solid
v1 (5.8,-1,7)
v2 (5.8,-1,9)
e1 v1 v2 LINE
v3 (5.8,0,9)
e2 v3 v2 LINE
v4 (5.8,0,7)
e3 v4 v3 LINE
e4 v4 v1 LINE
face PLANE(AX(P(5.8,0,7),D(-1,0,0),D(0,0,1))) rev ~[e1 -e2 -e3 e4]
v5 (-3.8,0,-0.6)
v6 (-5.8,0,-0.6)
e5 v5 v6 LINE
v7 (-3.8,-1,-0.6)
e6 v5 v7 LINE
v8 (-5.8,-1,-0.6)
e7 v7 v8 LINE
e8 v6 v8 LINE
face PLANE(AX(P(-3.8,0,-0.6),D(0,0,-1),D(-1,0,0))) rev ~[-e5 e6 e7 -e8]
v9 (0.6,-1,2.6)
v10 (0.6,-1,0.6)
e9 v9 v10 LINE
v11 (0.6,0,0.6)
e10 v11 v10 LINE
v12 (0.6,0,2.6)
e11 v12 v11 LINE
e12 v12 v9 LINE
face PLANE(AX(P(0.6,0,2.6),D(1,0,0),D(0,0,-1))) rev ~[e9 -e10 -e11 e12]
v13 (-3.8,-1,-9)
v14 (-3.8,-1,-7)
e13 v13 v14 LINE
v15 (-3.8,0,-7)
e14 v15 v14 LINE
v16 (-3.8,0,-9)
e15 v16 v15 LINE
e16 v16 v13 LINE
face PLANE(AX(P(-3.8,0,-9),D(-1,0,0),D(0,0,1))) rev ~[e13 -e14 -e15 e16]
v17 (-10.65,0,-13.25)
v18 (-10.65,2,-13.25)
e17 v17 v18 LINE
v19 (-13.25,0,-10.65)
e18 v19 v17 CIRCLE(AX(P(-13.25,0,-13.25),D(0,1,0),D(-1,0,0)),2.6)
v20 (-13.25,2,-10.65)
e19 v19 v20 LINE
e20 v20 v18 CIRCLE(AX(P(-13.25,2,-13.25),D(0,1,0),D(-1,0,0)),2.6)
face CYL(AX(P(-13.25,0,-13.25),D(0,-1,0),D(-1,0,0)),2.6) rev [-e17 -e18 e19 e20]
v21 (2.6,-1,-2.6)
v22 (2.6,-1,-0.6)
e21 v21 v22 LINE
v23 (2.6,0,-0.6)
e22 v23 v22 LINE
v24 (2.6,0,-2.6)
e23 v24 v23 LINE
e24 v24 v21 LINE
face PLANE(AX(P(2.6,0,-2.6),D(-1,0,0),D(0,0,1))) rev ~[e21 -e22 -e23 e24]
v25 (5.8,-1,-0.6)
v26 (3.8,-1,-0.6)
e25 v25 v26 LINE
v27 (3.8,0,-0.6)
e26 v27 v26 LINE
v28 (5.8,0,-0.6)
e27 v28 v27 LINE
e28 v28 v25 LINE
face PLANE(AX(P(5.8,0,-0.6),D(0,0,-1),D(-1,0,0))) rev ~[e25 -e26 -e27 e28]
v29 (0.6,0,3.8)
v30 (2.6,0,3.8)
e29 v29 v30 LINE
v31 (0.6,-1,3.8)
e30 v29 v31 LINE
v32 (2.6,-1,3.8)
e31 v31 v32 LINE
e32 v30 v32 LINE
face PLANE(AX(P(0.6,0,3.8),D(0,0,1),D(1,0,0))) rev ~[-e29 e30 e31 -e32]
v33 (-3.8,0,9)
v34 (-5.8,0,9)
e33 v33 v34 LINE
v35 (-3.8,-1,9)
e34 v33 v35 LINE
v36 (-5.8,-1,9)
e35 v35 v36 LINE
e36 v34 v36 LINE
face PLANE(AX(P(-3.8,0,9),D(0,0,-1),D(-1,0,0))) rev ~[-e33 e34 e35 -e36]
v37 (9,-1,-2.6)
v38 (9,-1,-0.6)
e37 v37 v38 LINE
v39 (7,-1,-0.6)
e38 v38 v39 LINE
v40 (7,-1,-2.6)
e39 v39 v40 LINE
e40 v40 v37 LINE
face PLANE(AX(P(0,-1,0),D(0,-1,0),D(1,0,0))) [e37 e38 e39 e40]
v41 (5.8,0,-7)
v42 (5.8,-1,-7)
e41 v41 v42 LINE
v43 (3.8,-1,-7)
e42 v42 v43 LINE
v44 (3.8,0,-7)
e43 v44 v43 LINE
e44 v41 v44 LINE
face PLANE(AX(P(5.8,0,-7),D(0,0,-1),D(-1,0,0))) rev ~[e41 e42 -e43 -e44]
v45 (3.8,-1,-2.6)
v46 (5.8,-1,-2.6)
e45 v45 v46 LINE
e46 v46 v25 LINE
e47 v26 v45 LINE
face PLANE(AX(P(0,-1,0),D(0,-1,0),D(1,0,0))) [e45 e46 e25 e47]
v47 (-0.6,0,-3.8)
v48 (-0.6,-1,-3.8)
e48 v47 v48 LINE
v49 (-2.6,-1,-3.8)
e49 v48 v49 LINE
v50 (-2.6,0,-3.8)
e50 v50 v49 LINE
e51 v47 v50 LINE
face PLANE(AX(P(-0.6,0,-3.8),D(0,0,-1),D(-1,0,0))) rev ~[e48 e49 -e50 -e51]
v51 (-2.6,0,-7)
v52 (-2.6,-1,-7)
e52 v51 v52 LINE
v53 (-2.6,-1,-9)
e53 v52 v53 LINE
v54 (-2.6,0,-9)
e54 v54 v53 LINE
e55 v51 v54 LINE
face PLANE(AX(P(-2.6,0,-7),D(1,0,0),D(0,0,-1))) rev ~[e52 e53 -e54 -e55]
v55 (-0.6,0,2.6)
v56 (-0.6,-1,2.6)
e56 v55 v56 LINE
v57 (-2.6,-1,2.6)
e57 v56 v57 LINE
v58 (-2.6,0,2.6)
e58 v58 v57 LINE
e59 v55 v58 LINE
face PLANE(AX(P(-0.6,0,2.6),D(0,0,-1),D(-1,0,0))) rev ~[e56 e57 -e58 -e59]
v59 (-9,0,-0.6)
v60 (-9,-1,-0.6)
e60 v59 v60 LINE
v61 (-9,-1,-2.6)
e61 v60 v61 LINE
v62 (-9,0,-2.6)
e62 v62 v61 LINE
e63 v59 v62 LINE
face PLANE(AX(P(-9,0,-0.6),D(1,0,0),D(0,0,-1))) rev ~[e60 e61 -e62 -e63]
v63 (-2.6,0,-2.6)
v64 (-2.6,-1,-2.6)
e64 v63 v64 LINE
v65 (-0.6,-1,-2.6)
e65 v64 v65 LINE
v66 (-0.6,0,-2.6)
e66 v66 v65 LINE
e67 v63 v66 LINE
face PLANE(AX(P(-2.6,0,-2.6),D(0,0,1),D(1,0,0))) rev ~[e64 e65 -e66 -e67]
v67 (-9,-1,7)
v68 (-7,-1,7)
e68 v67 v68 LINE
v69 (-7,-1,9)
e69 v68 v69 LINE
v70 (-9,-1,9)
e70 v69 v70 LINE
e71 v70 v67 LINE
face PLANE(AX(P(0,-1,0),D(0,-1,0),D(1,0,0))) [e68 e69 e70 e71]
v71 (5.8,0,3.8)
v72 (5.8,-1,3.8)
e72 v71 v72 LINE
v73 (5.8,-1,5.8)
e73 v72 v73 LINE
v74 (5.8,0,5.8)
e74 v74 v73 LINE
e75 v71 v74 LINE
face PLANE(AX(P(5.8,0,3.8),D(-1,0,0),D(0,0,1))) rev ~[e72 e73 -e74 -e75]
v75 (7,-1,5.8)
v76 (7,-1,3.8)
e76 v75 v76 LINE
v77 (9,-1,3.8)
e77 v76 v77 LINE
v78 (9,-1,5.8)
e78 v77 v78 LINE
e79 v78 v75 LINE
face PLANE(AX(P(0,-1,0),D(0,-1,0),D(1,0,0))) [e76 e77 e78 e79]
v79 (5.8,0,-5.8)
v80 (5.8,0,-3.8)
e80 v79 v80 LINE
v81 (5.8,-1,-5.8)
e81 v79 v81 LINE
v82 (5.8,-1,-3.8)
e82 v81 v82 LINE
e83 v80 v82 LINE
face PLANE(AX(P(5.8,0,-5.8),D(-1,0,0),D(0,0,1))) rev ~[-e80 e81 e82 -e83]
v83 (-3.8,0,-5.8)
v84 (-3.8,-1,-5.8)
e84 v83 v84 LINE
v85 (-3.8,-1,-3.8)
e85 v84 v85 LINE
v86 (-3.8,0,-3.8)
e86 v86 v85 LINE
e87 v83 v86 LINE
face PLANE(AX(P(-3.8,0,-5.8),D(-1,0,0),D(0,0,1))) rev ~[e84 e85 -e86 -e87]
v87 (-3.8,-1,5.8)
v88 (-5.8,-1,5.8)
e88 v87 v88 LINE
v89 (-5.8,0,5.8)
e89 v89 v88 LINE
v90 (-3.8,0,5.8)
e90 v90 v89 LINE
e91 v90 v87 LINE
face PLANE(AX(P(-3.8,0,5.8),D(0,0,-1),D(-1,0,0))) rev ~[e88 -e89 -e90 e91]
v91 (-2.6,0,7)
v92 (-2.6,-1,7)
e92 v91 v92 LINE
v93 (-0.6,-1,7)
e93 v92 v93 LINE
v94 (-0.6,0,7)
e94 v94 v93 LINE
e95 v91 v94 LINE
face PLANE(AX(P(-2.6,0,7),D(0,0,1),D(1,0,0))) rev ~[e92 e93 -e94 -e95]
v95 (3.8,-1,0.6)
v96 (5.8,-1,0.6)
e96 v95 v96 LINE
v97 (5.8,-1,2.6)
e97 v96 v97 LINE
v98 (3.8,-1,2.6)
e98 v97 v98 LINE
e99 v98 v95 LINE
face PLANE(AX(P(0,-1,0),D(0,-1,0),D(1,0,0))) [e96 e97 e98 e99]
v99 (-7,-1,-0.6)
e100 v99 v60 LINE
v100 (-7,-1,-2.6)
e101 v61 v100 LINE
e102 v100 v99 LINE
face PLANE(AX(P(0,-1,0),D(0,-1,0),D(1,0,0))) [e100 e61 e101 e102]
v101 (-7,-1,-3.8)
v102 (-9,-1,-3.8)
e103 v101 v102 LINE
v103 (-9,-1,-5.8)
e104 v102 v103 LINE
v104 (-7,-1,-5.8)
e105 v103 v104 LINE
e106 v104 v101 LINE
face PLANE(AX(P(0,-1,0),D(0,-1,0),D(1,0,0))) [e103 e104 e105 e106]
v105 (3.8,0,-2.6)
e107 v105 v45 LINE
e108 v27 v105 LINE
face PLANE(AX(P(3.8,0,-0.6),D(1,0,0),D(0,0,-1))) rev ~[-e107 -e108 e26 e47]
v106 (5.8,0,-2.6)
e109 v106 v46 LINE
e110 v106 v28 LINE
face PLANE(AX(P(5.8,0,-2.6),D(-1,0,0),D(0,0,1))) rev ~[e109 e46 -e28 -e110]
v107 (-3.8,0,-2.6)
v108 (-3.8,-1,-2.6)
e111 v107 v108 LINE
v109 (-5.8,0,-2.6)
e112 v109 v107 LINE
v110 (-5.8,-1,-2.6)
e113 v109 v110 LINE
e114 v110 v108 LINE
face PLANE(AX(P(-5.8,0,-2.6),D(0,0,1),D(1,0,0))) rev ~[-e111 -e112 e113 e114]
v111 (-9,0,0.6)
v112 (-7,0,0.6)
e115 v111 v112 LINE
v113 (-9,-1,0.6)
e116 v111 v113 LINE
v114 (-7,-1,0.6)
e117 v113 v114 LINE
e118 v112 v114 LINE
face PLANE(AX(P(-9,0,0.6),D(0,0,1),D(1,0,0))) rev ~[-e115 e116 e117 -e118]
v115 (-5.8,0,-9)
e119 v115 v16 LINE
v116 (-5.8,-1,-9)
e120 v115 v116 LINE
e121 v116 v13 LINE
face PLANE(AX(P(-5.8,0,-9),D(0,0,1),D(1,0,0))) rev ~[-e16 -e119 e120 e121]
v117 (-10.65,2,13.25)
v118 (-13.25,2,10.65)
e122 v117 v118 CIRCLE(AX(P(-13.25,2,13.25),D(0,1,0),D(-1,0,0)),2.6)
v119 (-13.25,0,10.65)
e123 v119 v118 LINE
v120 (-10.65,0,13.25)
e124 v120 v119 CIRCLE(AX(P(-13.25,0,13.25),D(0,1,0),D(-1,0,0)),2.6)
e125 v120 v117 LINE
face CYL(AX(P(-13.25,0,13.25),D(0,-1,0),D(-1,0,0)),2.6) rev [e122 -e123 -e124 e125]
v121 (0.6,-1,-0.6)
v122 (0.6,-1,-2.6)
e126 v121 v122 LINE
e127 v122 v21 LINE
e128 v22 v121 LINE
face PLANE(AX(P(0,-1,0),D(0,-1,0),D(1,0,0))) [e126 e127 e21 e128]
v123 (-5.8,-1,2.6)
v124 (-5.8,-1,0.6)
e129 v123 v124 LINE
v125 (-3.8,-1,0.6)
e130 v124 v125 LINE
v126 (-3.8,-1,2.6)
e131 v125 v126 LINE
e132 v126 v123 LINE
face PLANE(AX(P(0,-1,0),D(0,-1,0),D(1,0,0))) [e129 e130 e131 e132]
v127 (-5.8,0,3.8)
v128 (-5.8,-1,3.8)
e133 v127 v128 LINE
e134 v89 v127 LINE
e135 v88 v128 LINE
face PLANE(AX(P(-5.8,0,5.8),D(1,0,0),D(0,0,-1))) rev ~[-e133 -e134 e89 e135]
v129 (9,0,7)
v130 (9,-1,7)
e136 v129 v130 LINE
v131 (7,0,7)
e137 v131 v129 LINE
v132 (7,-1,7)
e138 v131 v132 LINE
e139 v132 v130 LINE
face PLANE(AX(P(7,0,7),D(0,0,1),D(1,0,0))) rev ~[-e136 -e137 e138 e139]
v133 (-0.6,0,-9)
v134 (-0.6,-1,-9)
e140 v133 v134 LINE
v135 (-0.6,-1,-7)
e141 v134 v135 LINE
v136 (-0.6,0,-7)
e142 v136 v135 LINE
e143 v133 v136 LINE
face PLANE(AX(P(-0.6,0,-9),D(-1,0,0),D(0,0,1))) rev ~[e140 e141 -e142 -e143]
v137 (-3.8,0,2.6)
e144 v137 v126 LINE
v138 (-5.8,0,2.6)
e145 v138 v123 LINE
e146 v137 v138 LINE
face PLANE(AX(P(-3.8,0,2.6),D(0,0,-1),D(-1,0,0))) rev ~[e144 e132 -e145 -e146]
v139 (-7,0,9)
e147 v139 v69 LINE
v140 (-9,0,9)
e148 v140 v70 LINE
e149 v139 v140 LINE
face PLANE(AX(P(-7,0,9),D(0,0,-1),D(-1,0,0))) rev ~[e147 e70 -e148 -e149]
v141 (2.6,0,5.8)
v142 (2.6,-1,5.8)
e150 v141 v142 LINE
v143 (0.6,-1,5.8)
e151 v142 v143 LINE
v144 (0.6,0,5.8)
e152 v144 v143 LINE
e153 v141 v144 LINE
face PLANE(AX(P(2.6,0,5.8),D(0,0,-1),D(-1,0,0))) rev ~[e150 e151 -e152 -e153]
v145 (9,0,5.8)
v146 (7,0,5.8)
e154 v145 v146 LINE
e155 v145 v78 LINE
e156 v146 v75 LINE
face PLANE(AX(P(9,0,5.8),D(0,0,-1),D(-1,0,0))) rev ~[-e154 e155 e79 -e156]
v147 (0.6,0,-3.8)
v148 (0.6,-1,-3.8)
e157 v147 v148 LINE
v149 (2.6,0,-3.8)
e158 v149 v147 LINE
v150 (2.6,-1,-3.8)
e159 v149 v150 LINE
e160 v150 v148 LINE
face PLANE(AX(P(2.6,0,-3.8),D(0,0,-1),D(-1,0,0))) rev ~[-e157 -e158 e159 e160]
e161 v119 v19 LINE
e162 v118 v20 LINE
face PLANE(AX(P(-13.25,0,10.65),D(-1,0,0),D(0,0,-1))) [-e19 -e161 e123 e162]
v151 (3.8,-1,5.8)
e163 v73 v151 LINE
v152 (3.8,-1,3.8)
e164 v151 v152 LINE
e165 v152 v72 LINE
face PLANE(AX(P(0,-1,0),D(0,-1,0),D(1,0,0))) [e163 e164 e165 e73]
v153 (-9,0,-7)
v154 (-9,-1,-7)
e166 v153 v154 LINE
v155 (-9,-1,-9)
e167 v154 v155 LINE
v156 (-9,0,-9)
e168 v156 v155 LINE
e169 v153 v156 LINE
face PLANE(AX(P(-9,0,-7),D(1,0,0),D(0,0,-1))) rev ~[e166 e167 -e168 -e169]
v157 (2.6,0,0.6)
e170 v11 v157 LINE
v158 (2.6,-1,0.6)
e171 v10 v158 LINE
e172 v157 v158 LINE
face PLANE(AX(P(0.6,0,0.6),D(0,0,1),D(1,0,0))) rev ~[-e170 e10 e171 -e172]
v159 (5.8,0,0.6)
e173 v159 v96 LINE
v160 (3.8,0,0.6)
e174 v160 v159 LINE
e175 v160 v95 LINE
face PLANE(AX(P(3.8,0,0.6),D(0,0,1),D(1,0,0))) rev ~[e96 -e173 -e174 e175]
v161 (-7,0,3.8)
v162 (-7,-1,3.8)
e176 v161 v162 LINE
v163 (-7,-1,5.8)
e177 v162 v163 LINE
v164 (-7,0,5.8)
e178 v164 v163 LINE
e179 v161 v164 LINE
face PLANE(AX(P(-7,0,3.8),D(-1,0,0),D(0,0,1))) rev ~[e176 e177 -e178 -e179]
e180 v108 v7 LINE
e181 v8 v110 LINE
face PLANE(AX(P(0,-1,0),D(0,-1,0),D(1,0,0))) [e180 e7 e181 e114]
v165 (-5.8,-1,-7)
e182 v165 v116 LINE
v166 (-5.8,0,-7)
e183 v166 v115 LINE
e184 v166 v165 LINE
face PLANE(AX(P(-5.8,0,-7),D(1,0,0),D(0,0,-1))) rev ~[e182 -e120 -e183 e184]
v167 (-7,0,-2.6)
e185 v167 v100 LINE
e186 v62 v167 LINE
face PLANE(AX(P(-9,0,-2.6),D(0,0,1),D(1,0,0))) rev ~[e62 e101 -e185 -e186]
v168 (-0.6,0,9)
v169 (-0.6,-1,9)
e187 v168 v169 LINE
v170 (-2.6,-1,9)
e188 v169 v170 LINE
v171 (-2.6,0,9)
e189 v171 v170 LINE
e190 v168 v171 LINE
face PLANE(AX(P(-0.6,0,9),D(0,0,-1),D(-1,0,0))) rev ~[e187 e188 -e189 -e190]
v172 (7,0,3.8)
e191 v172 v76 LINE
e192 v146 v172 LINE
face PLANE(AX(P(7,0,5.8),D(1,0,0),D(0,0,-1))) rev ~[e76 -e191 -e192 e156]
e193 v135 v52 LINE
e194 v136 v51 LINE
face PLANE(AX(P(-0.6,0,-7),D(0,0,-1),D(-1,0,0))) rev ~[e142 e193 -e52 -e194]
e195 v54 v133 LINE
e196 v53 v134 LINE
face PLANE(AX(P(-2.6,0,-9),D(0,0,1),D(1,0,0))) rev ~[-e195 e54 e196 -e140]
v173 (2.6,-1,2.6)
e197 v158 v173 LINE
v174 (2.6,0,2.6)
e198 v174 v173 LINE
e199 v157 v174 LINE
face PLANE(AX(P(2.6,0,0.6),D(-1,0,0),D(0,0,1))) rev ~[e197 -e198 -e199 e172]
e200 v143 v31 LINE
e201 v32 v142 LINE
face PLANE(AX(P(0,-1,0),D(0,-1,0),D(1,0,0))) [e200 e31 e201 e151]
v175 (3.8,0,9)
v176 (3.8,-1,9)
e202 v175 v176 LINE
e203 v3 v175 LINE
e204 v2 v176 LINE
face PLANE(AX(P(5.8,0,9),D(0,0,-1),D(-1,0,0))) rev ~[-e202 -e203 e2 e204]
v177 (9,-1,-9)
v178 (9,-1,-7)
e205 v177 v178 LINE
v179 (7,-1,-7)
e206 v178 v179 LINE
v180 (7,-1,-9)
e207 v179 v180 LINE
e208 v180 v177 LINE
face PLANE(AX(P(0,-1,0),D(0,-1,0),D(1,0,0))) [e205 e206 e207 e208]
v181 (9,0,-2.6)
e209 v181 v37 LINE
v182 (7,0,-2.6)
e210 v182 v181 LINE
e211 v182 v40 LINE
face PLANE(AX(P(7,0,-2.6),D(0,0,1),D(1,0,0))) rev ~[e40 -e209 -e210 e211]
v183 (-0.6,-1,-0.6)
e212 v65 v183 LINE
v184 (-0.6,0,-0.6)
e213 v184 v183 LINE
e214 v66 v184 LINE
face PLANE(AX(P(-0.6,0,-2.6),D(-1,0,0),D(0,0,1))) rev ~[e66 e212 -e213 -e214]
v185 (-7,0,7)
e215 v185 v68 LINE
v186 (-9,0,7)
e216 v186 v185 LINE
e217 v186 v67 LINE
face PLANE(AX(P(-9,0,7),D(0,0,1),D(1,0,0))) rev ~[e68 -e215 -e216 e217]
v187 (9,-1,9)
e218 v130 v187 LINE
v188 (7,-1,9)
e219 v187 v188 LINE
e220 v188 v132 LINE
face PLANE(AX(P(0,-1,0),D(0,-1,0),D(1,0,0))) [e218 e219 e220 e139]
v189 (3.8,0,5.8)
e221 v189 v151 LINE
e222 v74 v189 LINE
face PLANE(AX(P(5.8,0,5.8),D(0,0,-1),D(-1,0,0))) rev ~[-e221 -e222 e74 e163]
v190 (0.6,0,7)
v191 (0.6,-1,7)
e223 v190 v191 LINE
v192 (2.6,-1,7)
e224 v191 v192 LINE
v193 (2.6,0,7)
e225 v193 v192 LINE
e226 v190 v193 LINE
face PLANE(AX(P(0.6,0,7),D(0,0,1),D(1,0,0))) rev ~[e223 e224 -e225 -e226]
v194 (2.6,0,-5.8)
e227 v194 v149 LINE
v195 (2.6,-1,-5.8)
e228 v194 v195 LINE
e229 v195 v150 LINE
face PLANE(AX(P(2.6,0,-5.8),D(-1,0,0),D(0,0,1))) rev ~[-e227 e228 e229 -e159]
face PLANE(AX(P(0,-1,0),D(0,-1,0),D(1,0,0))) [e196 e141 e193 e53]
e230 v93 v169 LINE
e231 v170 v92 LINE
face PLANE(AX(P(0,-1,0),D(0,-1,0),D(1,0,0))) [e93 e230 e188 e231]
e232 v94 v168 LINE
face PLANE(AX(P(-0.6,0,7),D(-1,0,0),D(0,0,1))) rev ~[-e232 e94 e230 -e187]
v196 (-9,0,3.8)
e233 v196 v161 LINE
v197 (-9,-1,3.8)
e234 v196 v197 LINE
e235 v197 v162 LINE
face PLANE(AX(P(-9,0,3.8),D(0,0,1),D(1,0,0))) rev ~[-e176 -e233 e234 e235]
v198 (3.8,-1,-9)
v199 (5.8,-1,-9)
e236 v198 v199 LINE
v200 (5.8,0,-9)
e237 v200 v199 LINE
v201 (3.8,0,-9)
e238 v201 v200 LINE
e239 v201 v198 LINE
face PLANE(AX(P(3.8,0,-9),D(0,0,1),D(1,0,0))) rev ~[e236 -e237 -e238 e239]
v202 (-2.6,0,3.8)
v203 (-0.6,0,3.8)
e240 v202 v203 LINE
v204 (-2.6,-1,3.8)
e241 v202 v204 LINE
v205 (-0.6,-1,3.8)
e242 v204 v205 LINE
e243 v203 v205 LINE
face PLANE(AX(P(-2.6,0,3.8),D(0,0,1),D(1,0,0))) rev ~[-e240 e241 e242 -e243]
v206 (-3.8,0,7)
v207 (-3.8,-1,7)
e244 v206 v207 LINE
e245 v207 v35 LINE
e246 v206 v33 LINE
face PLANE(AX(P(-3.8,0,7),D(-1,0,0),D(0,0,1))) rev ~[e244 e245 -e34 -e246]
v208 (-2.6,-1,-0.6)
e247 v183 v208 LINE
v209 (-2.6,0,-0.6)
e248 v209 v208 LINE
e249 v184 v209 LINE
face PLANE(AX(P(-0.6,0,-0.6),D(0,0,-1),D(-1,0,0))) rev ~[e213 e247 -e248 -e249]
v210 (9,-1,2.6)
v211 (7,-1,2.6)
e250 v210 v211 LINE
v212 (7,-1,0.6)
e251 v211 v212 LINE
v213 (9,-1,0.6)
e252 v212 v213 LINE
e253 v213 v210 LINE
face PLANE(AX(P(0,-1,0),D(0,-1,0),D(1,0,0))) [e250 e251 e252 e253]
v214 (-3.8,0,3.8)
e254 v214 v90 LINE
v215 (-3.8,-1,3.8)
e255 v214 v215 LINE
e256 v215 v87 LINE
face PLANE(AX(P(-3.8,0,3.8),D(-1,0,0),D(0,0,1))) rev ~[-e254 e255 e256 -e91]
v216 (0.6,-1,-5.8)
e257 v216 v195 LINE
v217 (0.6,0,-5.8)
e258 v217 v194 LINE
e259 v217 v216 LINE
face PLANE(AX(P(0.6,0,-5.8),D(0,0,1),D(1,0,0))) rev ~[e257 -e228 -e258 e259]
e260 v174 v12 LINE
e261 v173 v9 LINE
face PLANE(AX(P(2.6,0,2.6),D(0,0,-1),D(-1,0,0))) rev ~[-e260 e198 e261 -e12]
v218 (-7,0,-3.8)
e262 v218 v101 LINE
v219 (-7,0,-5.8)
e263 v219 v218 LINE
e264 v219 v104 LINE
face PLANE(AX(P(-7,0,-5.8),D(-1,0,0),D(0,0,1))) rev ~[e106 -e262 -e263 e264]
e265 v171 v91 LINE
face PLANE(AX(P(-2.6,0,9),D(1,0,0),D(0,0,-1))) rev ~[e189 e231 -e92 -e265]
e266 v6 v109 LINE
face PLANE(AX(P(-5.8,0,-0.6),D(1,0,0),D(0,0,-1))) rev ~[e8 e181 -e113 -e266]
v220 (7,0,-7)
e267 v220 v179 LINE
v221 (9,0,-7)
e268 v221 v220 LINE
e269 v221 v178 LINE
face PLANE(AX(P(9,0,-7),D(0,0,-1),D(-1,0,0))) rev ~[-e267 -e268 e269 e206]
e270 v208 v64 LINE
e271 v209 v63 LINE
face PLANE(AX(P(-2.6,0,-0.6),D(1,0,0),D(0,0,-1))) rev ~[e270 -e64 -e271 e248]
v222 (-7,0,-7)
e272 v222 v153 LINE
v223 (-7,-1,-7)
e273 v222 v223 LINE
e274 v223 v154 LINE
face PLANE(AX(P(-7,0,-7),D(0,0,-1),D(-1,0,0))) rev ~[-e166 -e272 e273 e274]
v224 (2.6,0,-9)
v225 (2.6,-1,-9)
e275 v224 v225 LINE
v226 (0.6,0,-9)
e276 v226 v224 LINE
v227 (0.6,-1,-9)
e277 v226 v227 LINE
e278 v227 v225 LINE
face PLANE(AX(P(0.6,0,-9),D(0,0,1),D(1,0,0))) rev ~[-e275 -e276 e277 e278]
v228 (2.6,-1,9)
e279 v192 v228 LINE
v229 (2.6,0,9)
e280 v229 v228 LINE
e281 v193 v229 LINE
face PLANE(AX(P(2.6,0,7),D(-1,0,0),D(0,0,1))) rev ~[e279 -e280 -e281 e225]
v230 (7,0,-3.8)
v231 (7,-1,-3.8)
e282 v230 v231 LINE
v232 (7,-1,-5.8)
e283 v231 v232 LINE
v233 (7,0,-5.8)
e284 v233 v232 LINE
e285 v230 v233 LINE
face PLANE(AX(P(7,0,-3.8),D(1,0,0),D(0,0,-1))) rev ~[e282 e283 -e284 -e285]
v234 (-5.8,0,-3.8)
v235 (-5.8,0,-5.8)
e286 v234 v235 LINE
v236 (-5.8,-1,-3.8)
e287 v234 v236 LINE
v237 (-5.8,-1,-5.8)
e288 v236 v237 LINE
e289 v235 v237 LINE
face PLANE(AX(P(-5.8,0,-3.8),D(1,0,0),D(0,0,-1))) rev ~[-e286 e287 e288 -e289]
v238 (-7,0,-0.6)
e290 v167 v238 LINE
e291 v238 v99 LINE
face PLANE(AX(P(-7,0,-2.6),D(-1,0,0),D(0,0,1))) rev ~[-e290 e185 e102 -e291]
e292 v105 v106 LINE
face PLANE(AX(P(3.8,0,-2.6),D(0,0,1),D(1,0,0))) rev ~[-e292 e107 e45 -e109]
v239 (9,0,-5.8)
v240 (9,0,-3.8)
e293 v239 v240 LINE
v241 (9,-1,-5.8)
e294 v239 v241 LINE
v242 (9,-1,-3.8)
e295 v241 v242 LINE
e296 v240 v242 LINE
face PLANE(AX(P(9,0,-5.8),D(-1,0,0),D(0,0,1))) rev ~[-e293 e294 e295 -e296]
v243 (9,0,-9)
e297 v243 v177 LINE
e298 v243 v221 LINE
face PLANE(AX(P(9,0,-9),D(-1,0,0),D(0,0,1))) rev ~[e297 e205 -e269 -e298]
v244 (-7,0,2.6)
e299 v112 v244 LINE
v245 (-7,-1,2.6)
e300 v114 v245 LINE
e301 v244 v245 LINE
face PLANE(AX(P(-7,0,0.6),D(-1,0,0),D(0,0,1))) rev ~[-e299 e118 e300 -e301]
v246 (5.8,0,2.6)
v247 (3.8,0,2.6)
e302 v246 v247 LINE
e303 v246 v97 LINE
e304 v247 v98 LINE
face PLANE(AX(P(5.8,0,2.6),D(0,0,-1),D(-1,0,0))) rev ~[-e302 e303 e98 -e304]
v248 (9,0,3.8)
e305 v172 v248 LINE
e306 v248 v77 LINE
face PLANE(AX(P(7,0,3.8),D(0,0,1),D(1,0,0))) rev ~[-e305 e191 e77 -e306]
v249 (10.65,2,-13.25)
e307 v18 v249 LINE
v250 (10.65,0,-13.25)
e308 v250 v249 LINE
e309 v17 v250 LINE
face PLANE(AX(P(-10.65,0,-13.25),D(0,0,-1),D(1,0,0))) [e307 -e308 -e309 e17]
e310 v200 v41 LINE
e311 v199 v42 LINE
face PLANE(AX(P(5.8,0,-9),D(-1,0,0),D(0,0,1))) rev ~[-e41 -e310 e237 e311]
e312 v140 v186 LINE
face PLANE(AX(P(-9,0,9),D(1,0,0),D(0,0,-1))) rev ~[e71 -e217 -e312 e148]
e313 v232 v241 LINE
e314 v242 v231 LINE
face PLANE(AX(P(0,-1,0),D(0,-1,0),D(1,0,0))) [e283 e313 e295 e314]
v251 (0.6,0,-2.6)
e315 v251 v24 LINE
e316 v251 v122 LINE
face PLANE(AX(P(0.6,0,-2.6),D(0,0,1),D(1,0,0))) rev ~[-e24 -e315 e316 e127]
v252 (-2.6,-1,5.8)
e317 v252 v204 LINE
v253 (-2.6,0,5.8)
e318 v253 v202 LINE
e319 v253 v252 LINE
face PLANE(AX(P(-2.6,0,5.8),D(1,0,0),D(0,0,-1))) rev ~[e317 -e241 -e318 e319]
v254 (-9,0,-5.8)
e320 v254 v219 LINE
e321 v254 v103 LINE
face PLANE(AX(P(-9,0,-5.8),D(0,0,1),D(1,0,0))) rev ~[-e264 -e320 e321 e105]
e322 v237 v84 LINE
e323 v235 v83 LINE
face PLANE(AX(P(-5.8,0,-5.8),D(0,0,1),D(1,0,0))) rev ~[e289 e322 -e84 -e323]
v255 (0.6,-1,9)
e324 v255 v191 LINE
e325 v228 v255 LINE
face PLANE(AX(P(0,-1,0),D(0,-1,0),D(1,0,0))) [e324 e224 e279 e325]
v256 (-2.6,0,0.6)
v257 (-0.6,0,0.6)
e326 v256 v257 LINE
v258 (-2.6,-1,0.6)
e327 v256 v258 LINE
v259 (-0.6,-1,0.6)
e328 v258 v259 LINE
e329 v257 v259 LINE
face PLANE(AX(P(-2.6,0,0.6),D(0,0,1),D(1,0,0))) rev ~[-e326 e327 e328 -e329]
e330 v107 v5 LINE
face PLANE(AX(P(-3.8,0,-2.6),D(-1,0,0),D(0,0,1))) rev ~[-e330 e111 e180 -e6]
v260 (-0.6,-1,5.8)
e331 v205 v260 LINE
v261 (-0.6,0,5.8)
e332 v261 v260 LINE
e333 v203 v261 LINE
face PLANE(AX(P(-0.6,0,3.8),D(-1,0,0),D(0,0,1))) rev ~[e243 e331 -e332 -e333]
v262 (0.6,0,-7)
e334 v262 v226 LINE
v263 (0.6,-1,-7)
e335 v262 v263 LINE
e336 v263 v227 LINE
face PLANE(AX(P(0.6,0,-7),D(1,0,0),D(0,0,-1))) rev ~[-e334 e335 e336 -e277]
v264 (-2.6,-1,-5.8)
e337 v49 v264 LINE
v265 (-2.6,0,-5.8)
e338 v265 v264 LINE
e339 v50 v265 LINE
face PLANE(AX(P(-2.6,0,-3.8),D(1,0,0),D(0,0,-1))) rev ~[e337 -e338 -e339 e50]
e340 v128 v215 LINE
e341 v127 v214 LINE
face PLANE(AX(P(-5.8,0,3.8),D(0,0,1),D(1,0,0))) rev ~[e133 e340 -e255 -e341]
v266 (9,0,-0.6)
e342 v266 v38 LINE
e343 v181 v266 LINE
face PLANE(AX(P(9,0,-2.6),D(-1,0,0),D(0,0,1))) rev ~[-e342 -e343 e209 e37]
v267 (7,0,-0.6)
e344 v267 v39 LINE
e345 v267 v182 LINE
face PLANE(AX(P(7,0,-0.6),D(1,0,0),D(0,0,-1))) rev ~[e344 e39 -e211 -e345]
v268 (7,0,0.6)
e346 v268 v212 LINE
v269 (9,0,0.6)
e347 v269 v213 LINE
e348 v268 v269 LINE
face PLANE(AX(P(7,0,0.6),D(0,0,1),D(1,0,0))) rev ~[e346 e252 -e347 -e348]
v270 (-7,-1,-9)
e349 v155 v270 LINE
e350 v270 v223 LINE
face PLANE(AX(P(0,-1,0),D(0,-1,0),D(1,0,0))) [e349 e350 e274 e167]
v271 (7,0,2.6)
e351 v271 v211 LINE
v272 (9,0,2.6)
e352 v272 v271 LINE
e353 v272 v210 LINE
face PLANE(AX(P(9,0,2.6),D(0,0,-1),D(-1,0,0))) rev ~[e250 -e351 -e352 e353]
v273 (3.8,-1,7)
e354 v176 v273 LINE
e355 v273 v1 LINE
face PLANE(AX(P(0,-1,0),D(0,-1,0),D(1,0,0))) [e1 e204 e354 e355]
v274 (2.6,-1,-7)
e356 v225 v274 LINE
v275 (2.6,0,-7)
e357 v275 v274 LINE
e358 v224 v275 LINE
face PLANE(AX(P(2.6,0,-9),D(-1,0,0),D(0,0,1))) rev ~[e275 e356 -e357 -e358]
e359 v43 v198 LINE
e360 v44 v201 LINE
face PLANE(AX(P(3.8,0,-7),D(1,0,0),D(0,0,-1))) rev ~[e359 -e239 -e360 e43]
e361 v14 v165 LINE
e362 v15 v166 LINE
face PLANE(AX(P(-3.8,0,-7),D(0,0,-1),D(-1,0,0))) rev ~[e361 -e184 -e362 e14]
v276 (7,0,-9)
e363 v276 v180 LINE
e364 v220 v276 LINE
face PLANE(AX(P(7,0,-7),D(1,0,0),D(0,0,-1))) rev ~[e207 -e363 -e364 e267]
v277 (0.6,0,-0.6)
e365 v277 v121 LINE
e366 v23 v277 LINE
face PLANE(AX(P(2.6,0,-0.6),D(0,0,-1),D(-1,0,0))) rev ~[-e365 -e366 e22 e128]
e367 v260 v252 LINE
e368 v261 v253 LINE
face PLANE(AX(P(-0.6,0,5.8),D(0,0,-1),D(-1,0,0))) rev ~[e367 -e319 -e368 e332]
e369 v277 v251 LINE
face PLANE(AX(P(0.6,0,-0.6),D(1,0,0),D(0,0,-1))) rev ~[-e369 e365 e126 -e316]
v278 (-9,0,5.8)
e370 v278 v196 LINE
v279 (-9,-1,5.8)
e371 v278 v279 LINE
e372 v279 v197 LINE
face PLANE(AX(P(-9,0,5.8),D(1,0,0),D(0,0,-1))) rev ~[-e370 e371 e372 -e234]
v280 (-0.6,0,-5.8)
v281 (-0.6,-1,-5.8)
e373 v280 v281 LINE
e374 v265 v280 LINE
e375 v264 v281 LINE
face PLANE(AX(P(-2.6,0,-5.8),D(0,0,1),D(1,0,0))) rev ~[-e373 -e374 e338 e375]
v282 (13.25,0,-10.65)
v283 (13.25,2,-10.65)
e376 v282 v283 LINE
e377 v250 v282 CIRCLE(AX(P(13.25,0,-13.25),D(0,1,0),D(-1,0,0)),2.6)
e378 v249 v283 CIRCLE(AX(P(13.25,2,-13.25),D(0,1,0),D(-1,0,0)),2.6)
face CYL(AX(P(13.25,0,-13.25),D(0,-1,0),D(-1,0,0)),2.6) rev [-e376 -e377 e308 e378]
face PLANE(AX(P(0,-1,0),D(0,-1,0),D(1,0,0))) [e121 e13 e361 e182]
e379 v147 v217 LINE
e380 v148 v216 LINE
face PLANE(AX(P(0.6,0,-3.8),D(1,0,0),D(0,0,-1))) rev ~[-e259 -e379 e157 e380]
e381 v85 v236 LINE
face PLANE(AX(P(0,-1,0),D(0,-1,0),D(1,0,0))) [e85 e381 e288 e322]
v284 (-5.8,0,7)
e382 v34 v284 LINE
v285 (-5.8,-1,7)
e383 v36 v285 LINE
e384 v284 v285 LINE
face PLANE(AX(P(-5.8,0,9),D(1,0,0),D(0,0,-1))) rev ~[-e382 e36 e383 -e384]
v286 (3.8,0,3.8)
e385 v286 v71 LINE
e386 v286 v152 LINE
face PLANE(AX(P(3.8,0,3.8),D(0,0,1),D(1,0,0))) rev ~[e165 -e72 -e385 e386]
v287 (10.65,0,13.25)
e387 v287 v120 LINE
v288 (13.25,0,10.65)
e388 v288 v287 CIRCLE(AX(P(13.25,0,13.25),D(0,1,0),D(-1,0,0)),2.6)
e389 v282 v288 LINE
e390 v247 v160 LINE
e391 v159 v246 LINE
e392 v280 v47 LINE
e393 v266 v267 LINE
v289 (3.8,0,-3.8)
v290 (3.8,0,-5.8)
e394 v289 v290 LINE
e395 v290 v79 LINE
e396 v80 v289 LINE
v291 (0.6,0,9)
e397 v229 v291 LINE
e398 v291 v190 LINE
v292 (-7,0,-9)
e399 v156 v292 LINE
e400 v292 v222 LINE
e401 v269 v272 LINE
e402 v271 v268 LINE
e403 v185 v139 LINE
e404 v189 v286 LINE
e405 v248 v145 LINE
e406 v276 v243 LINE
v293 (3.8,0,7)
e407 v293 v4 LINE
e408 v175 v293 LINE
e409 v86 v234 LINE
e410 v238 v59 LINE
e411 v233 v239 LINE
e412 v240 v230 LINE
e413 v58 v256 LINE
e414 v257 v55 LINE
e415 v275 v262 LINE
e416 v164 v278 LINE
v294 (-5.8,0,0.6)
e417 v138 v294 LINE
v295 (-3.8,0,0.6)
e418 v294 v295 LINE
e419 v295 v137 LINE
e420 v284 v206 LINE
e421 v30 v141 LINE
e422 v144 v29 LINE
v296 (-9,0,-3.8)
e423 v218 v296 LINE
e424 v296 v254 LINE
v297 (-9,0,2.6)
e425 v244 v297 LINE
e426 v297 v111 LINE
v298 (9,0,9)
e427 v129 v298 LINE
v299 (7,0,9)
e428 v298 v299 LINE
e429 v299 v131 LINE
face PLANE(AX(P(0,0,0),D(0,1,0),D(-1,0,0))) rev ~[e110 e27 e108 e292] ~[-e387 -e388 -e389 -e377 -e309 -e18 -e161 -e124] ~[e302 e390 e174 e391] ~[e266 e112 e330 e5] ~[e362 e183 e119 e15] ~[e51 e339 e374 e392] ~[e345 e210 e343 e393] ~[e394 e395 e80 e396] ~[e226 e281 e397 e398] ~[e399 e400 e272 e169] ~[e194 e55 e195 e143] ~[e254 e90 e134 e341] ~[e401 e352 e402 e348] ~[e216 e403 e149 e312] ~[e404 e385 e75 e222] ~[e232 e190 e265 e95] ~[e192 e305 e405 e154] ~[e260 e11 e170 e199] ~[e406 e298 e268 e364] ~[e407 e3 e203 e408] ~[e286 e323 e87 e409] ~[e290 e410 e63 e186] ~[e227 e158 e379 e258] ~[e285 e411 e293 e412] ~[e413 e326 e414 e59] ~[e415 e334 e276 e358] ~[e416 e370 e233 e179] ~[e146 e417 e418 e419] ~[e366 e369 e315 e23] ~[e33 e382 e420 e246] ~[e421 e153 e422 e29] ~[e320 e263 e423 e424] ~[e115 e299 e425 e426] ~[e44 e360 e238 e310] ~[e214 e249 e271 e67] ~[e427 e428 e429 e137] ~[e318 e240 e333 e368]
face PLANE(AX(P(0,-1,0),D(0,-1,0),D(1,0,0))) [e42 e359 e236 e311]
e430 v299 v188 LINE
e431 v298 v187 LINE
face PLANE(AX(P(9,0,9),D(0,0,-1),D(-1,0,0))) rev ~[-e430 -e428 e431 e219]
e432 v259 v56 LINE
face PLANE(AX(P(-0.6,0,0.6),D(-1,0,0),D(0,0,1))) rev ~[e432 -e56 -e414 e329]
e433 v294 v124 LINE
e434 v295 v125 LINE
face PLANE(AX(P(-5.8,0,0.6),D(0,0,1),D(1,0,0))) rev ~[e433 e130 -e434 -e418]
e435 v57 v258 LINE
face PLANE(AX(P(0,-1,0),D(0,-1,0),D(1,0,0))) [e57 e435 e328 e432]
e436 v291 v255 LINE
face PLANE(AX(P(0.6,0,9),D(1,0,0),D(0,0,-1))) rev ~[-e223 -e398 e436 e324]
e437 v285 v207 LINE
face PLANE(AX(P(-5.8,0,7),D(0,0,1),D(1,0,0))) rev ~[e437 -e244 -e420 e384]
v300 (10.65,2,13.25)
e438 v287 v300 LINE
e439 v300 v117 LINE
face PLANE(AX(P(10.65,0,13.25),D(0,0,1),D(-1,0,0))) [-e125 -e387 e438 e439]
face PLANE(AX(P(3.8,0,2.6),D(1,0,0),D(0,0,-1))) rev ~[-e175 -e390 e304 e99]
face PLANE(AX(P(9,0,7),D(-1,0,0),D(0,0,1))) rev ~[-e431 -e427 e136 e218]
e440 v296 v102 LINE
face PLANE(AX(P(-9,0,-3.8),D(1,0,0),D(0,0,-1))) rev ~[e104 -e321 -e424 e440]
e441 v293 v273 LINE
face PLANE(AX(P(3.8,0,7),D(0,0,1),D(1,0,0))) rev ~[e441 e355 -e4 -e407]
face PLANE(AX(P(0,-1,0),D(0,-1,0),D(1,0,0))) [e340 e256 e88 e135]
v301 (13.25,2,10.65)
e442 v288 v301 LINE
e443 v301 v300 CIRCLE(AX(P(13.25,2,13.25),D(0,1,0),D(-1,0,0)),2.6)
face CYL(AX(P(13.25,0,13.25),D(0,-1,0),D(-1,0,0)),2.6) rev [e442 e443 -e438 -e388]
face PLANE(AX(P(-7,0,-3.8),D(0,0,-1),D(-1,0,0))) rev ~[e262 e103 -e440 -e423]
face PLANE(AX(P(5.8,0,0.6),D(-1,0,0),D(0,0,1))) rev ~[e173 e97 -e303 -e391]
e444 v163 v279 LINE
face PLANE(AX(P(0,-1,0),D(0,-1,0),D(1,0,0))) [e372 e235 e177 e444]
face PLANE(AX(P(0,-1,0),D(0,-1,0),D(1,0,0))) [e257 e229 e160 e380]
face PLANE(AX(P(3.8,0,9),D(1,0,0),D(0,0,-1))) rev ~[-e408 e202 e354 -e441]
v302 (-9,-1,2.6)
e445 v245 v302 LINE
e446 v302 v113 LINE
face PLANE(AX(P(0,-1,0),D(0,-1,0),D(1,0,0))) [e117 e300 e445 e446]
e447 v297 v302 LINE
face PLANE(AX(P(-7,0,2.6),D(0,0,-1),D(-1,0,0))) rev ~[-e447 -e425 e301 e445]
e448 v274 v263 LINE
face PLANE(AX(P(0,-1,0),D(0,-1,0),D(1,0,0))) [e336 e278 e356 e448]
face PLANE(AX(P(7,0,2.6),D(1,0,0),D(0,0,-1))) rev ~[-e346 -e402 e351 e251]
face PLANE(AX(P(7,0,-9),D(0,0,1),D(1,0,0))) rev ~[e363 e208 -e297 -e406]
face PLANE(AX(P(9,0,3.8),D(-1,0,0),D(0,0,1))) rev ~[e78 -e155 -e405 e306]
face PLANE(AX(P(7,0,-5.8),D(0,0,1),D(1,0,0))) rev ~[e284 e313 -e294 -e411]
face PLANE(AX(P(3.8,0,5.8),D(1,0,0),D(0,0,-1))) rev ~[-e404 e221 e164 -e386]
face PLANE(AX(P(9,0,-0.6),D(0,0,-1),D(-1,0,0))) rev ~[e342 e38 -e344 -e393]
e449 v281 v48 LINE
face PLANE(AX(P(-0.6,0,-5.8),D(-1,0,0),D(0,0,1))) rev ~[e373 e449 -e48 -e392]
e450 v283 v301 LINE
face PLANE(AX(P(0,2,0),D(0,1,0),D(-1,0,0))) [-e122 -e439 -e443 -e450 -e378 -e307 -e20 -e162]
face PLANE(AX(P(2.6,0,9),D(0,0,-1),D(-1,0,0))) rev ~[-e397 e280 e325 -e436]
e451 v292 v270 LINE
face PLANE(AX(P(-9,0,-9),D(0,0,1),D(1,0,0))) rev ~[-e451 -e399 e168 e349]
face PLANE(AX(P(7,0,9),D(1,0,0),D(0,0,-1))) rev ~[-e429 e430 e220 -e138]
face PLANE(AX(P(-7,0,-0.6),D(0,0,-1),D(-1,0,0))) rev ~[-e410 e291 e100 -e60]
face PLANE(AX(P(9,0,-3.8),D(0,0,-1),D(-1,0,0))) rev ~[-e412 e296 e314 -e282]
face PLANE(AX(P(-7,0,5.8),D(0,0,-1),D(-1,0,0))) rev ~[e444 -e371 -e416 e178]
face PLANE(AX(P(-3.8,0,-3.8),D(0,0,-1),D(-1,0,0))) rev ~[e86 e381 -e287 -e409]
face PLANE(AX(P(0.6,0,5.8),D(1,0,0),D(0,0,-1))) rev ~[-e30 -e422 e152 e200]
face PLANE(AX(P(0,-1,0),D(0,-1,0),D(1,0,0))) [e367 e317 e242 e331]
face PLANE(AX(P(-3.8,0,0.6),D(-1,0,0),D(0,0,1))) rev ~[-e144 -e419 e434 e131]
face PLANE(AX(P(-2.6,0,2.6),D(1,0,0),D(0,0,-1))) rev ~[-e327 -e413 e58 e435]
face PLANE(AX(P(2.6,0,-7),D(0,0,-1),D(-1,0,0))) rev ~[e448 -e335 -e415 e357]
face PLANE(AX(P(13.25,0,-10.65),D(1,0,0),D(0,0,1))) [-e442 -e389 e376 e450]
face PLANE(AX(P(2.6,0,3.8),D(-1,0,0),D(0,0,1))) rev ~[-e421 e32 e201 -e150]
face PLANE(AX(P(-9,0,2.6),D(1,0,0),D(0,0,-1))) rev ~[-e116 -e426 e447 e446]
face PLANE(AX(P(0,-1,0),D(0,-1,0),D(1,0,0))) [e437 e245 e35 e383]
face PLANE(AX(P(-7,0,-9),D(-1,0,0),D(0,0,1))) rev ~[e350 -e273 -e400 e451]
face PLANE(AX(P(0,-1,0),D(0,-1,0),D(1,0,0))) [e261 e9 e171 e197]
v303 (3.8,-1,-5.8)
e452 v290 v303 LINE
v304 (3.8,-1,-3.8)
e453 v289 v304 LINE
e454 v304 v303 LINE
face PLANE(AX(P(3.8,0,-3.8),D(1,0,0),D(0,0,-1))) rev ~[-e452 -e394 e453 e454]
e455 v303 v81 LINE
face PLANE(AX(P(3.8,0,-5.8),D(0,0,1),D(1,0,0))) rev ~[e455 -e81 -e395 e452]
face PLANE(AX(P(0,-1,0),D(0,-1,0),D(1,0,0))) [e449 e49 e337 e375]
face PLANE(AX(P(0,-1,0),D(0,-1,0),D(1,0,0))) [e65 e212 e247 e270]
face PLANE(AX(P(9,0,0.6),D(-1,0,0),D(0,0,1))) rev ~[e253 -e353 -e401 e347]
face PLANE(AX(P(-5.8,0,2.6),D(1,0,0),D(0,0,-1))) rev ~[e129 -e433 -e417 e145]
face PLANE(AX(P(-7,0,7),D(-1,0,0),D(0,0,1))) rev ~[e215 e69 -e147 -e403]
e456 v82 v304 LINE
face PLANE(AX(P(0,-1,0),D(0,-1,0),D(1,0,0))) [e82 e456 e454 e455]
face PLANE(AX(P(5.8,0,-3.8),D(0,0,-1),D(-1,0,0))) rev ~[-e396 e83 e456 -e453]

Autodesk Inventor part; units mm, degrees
ref_plane "YZ Plane" through (0, 0, 0) normal (1, 0, 0) x (0, 1, 0)
ref_plane "XZ Plane" through (0, 0, 0) normal (0, 1, 0) x (-1, 0, 0)
ref_plane "XY Plane" through (0, 0, 0) normal (0, 0, 1) x (1, 0, 0)
sketch "Sketch1" plane through (0, 0, 0) normal (0, 1, 0) x (-1, 0, 0)
  line L0 (13.25, -13.25) -> (-13.25, -13.25)
  line L1 (-13.25, -13.25) -> (-13.25, 13.25)
  line L2 (-13.25, 13.25) -> (13.25, 13.25)
  line L3 (13.25, 13.25) -> (13.25, -13.25)
  line L4 (13.25, -13.25) -> (-13.25, 13.25) construction
  line L5 (-13.25, -13.25) -> (13.25, 13.25) construction
  circle A0 centre (13.25, 13.25) radius 2.6
  line L6 (0, 0) -> (0, 4.9748) construction
  line L7 (0, 0) -> (-3.9758, 0) construction
  circle A1 centre (-13.25, 13.25) radius 2.6
  line L8 (0, 0) -> (3.9758, 0) construction
  circle A2 centre (13.25, -13.25) radius 2.6
  circle A3 centre (-13.25, -13.25) radius 2.6
  point P0 (-13.25, -10.65)
  point P1 (-10.65, -13.25)
  point P2 (10.65, -13.25)
  point P3 (13.25, -10.65)
  point P4 (13.25, 10.65)
  point P5 (10.65, 13.25)
  point P6 (-10.65, 13.25)
  point P7 (-13.25, 10.65)
  dimension "d0" = 26.5
  dimension "d1" = 26.5
  dimension "d2" = 5.2
extrude "Extrusion1" add sketch "Sketch1" along normal blind 2 contours A3 L1 A1 L2 A0 L3 A2 L0
sketch "Sketch2" plane through (0, 0, 0) normal (0, -1, 0) x (1, 0, 0)
  line L0 (-9, 7) -> (-7, 7)
  line L1 (-7, 7) -> (-7, 9)
  line L2 (-7, 9) -> (-9, 9)
  line L3 (-9, 9) -> (-9, 7)
  line L4 (-9, 7) -> (-7, 9) construction
  line L5 (-7, 7) -> (-9, 9) construction
  line L6 (-3.8, 9) -> (-5.8, 9)
  line L7 (-3.8, 7) -> (-3.8, 9)
  line L8 (-5.8, 9) -> (-5.8, 7)
  line L9 (-5.8, 7) -> (-3.8, 7)
  line L10 (-0.6, 9) -> (-2.6, 9)
  line L11 (-0.6, 7) -> (-0.6, 9)
  line L12 (-2.6, 9) -> (-2.6, 7)
  line L13 (-2.6, 7) -> (-0.6, 7)
  line L14 (2.6, 9) -> (0.6, 9)
  line L15 (2.6, 7) -> (2.6, 9)
  line L16 (0.6, 9) -> (0.6, 7)
  line L17 (0.6, 7) -> (2.6, 7)
  line L18 (5.8, 9) -> (3.8, 9)
  line L19 (5.8, 7) -> (5.8, 9)
  line L20 (3.8, 9) -> (3.8, 7)
  line L21 (3.8, 7) -> (5.8, 7)
  line L22 (9, 9) -> (7, 9)
  line L23 (9, 7) -> (9, 9)
  line L24 (7, 9) -> (7, 7)
  line L25 (7, 7) -> (9, 7)
  line L26 (-7, 5.8) -> (-9, 5.8)
  line L27 (-7, 3.8) -> (-7, 5.8)
  line L28 (-9, 5.8) -> (-9, 3.8)
  line L29 (-9, 3.8) -> (-7, 3.8)
  line L30 (-3.8, 5.8) -> (-5.8, 5.8)
  line L31 (-3.8, 3.8) -> (-3.8, 5.8)
  line L32 (-5.8, 5.8) -> (-5.8, 3.8)
  line L33 (-5.8, 3.8) -> (-3.8, 3.8)
  line L34 (-0.6, 5.8) -> (-2.6, 5.8)
  line L35 (-0.6, 3.8) -> (-0.6, 5.8)
  line L36 (-2.6, 5.8) -> (-2.6, 3.8)
  line L37 (-2.6, 3.8) -> (-0.6, 3.8)
  line L38 (2.6, 5.8) -> (0.6, 5.8)
  line L39 (2.6, 3.8) -> (2.6, 5.8)
  line L40 (0.6, 5.8) -> (0.6, 3.8)
  line L41 (0.6, 3.8) -> (2.6, 3.8)
  line L42 (5.8, 5.8) -> (3.8, 5.8)
  line L43 (5.8, 3.8) -> (5.8, 5.8)
  line L44 (3.8, 5.8) -> (3.8, 3.8)
  line L45 (3.8, 3.8) -> (5.8, 3.8)
  line L46 (9, 5.8) -> (7, 5.8)
  line L47 (9, 3.8) -> (9, 5.8)
  line L48 (7, 5.8) -> (7, 3.8)
  line L49 (7, 3.8) -> (9, 3.8)
  line L50 (-7, 2.6) -> (-9, 2.6)
  line L51 (-7, 0.6) -> (-7, 2.6)
  line L52 (-9, 2.6) -> (-9, 0.6)
  line L53 (-9, 0.6) -> (-7, 0.6)
  line L54 (-3.8, 2.6) -> (-5.8, 2.6)
  line L55 (-3.8, 0.6) -> (-3.8, 2.6)
  line L56 (-5.8, 2.6) -> (-5.8, 0.6)
  line L57 (-5.8, 0.6) -> (-3.8, 0.6)
  line L58 (-0.6, 2.6) -> (-2.6, 2.6)
  line L59 (-0.6, 0.6) -> (-0.6, 2.6)
  line L60 (-2.6, 2.6) -> (-2.6, 0.6)
  line L61 (-2.6, 0.6) -> (-0.6, 0.6)
  line L62 (2.6, 2.6) -> (0.6, 2.6)
  line L63 (2.6, 0.6) -> (2.6, 2.6)
  line L64 (0.6, 2.6) -> (0.6, 0.6)
  line L65 (0.6, 0.6) -> (2.6, 0.6)
  line L66 (5.8, 2.6) -> (3.8, 2.6)
  line L67 (5.8, 0.6) -> (5.8, 2.6)
  line L68 (3.8, 2.6) -> (3.8, 0.6)
  line L69 (3.8, 0.6) -> (5.8, 0.6)
  line L70 (9, 2.6) -> (7, 2.6)
  line L71 (9, 0.6) -> (9, 2.6)
  line L72 (7, 2.6) -> (7, 0.6)
  line L73 (7, 0.6) -> (9, 0.6)
  line L74 (-7, -0.6) -> (-9, -0.6)
  line L75 (-7, -2.6) -> (-7, -0.6)
  line L76 (-9, -0.6) -> (-9, -2.6)
  line L77 (-9, -2.6) -> (-7, -2.6)
  line L78 (-3.8, -0.6) -> (-5.8, -0.6)
  line L79 (-3.8, -2.6) -> (-3.8, -0.6)
  line L80 (-5.8, -0.6) -> (-5.8, -2.6)
  line L81 (-5.8, -2.6) -> (-3.8, -2.6)
  line L82 (-0.6, -0.6) -> (-2.6, -0.6)
  line L83 (-0.6, -2.6) -> (-0.6, -0.6)
  line L84 (-2.6, -0.6) -> (-2.6, -2.6)
  line L85 (-2.6, -2.6) -> (-0.6, -2.6)
  line L86 (2.6, -0.6) -> (0.6, -0.6)
  line L87 (2.6, -2.6) -> (2.6, -0.6)
  line L88 (0.6, -0.6) -> (0.6, -2.6)
  line L89 (0.6, -2.6) -> (2.6, -2.6)
  line L90 (5.8, -0.6) -> (3.8, -0.6)
  line L91 (5.8, -2.6) -> (5.8, -0.6)
  line L92 (3.8, -0.6) -> (3.8, -2.6)
  line L93 (3.8, -2.6) -> (5.8, -2.6)
  line L94 (9, -0.6) -> (7, -0.6)
  line L95 (9, -2.6) -> (9, -0.6)
  line L96 (7, -0.6) -> (7, -2.6)
  line L97 (7, -2.6) -> (9, -2.6)
  line L98 (-7, -3.8) -> (-9, -3.8)
  line L99 (-7, -5.8) -> (-7, -3.8)
  line L100 (-9, -3.8) -> (-9, -5.8)
  line L101 (-9, -5.8) -> (-7, -5.8)
  line L102 (-3.8, -3.8) -> (-5.8, -3.8)
  line L103 (-3.8, -5.8) -> (-3.8, -3.8)
  line L104 (-5.8, -3.8) -> (-5.8, -5.8)
  line L105 (-5.8, -5.8) -> (-3.8, -5.8)
  line L106 (-0.6, -3.8) -> (-2.6, -3.8)
  line L107 (-0.6, -5.8) -> (-0.6, -3.8)
  line L108 (-2.6, -3.8) -> (-2.6, -5.8)
  line L109 (-2.6, -5.8) -> (-0.6, -5.8)
  line L110 (2.6, -3.8) -> (0.6, -3.8)
  line L111 (2.6, -5.8) -> (2.6, -3.8)
  line L112 (0.6, -3.8) -> (0.6, -5.8)
  line L113 (0.6, -5.8) -> (2.6, -5.8)
  line L114 (5.8, -3.8) -> (3.8, -3.8)
  line L115 (5.8, -5.8) -> (5.8, -3.8)
  line L116 (3.8, -3.8) -> (3.8, -5.8)
  line L117 (3.8, -5.8) -> (5.8, -5.8)
  line L118 (9, -3.8) -> (7, -3.8)
  line L119 (9, -5.8) -> (9, -3.8)
  line L120 (7, -3.8) -> (7, -5.8)
  line L121 (7, -5.8) -> (9, -5.8)
  line L122 (-7, -7) -> (-9, -7)
  line L123 (-7, -9) -> (-7, -7)
  line L124 (-9, -7) -> (-9, -9)
  line L125 (-9, -9) -> (-7, -9)
  line L126 (-3.8, -7) -> (-5.8, -7)
  line L127 (-3.8, -9) -> (-3.8, -7)
  line L128 (-5.8, -7) -> (-5.8, -9)
  line L129 (-5.8, -9) -> (-3.8, -9)
  line L130 (-0.6, -7) -> (-2.6, -7)
  line L131 (-0.6, -9) -> (-0.6, -7)
  line L132 (-2.6, -7) -> (-2.6, -9)
  line L133 (-2.6, -9) -> (-0.6, -9)
  line L134 (2.6, -7) -> (0.6, -7)
  line L135 (2.6, -9) -> (2.6, -7)
  line L136 (0.6, -7) -> (0.6, -9)
  line L137 (0.6, -9) -> (2.6, -9)
  line L138 (5.8, -7) -> (3.8, -7)
  line L139 (5.8, -9) -> (5.8, -7)
  line L140 (3.8, -7) -> (3.8, -9)
  line L141 (3.8, -9) -> (5.8, -9)
  line L142 (9, -7) -> (7, -7)
  line L143 (9, -9) -> (9, -7)
  line L144 (7, -7) -> (7, -9)
  line L145 (7, -9) -> (9, -9)
  point P0 (0, 0)
  point P1 (-8, 8)
  dimension "d5" = 2
  dimension "d6" = 2
  dimension "d9" = 3.2
  dimension "d12" = 3.2
  dimension "d15" = 8
  dimension "d16" = 8
extrude "Extrusion2" add sketch "Sketch2" along normal blind 1
equation "\"d1\" = d0"
equation "\"d5\" = d6"
equation "\"d9\" = d12"
properties part number "whiteLEDArray"
